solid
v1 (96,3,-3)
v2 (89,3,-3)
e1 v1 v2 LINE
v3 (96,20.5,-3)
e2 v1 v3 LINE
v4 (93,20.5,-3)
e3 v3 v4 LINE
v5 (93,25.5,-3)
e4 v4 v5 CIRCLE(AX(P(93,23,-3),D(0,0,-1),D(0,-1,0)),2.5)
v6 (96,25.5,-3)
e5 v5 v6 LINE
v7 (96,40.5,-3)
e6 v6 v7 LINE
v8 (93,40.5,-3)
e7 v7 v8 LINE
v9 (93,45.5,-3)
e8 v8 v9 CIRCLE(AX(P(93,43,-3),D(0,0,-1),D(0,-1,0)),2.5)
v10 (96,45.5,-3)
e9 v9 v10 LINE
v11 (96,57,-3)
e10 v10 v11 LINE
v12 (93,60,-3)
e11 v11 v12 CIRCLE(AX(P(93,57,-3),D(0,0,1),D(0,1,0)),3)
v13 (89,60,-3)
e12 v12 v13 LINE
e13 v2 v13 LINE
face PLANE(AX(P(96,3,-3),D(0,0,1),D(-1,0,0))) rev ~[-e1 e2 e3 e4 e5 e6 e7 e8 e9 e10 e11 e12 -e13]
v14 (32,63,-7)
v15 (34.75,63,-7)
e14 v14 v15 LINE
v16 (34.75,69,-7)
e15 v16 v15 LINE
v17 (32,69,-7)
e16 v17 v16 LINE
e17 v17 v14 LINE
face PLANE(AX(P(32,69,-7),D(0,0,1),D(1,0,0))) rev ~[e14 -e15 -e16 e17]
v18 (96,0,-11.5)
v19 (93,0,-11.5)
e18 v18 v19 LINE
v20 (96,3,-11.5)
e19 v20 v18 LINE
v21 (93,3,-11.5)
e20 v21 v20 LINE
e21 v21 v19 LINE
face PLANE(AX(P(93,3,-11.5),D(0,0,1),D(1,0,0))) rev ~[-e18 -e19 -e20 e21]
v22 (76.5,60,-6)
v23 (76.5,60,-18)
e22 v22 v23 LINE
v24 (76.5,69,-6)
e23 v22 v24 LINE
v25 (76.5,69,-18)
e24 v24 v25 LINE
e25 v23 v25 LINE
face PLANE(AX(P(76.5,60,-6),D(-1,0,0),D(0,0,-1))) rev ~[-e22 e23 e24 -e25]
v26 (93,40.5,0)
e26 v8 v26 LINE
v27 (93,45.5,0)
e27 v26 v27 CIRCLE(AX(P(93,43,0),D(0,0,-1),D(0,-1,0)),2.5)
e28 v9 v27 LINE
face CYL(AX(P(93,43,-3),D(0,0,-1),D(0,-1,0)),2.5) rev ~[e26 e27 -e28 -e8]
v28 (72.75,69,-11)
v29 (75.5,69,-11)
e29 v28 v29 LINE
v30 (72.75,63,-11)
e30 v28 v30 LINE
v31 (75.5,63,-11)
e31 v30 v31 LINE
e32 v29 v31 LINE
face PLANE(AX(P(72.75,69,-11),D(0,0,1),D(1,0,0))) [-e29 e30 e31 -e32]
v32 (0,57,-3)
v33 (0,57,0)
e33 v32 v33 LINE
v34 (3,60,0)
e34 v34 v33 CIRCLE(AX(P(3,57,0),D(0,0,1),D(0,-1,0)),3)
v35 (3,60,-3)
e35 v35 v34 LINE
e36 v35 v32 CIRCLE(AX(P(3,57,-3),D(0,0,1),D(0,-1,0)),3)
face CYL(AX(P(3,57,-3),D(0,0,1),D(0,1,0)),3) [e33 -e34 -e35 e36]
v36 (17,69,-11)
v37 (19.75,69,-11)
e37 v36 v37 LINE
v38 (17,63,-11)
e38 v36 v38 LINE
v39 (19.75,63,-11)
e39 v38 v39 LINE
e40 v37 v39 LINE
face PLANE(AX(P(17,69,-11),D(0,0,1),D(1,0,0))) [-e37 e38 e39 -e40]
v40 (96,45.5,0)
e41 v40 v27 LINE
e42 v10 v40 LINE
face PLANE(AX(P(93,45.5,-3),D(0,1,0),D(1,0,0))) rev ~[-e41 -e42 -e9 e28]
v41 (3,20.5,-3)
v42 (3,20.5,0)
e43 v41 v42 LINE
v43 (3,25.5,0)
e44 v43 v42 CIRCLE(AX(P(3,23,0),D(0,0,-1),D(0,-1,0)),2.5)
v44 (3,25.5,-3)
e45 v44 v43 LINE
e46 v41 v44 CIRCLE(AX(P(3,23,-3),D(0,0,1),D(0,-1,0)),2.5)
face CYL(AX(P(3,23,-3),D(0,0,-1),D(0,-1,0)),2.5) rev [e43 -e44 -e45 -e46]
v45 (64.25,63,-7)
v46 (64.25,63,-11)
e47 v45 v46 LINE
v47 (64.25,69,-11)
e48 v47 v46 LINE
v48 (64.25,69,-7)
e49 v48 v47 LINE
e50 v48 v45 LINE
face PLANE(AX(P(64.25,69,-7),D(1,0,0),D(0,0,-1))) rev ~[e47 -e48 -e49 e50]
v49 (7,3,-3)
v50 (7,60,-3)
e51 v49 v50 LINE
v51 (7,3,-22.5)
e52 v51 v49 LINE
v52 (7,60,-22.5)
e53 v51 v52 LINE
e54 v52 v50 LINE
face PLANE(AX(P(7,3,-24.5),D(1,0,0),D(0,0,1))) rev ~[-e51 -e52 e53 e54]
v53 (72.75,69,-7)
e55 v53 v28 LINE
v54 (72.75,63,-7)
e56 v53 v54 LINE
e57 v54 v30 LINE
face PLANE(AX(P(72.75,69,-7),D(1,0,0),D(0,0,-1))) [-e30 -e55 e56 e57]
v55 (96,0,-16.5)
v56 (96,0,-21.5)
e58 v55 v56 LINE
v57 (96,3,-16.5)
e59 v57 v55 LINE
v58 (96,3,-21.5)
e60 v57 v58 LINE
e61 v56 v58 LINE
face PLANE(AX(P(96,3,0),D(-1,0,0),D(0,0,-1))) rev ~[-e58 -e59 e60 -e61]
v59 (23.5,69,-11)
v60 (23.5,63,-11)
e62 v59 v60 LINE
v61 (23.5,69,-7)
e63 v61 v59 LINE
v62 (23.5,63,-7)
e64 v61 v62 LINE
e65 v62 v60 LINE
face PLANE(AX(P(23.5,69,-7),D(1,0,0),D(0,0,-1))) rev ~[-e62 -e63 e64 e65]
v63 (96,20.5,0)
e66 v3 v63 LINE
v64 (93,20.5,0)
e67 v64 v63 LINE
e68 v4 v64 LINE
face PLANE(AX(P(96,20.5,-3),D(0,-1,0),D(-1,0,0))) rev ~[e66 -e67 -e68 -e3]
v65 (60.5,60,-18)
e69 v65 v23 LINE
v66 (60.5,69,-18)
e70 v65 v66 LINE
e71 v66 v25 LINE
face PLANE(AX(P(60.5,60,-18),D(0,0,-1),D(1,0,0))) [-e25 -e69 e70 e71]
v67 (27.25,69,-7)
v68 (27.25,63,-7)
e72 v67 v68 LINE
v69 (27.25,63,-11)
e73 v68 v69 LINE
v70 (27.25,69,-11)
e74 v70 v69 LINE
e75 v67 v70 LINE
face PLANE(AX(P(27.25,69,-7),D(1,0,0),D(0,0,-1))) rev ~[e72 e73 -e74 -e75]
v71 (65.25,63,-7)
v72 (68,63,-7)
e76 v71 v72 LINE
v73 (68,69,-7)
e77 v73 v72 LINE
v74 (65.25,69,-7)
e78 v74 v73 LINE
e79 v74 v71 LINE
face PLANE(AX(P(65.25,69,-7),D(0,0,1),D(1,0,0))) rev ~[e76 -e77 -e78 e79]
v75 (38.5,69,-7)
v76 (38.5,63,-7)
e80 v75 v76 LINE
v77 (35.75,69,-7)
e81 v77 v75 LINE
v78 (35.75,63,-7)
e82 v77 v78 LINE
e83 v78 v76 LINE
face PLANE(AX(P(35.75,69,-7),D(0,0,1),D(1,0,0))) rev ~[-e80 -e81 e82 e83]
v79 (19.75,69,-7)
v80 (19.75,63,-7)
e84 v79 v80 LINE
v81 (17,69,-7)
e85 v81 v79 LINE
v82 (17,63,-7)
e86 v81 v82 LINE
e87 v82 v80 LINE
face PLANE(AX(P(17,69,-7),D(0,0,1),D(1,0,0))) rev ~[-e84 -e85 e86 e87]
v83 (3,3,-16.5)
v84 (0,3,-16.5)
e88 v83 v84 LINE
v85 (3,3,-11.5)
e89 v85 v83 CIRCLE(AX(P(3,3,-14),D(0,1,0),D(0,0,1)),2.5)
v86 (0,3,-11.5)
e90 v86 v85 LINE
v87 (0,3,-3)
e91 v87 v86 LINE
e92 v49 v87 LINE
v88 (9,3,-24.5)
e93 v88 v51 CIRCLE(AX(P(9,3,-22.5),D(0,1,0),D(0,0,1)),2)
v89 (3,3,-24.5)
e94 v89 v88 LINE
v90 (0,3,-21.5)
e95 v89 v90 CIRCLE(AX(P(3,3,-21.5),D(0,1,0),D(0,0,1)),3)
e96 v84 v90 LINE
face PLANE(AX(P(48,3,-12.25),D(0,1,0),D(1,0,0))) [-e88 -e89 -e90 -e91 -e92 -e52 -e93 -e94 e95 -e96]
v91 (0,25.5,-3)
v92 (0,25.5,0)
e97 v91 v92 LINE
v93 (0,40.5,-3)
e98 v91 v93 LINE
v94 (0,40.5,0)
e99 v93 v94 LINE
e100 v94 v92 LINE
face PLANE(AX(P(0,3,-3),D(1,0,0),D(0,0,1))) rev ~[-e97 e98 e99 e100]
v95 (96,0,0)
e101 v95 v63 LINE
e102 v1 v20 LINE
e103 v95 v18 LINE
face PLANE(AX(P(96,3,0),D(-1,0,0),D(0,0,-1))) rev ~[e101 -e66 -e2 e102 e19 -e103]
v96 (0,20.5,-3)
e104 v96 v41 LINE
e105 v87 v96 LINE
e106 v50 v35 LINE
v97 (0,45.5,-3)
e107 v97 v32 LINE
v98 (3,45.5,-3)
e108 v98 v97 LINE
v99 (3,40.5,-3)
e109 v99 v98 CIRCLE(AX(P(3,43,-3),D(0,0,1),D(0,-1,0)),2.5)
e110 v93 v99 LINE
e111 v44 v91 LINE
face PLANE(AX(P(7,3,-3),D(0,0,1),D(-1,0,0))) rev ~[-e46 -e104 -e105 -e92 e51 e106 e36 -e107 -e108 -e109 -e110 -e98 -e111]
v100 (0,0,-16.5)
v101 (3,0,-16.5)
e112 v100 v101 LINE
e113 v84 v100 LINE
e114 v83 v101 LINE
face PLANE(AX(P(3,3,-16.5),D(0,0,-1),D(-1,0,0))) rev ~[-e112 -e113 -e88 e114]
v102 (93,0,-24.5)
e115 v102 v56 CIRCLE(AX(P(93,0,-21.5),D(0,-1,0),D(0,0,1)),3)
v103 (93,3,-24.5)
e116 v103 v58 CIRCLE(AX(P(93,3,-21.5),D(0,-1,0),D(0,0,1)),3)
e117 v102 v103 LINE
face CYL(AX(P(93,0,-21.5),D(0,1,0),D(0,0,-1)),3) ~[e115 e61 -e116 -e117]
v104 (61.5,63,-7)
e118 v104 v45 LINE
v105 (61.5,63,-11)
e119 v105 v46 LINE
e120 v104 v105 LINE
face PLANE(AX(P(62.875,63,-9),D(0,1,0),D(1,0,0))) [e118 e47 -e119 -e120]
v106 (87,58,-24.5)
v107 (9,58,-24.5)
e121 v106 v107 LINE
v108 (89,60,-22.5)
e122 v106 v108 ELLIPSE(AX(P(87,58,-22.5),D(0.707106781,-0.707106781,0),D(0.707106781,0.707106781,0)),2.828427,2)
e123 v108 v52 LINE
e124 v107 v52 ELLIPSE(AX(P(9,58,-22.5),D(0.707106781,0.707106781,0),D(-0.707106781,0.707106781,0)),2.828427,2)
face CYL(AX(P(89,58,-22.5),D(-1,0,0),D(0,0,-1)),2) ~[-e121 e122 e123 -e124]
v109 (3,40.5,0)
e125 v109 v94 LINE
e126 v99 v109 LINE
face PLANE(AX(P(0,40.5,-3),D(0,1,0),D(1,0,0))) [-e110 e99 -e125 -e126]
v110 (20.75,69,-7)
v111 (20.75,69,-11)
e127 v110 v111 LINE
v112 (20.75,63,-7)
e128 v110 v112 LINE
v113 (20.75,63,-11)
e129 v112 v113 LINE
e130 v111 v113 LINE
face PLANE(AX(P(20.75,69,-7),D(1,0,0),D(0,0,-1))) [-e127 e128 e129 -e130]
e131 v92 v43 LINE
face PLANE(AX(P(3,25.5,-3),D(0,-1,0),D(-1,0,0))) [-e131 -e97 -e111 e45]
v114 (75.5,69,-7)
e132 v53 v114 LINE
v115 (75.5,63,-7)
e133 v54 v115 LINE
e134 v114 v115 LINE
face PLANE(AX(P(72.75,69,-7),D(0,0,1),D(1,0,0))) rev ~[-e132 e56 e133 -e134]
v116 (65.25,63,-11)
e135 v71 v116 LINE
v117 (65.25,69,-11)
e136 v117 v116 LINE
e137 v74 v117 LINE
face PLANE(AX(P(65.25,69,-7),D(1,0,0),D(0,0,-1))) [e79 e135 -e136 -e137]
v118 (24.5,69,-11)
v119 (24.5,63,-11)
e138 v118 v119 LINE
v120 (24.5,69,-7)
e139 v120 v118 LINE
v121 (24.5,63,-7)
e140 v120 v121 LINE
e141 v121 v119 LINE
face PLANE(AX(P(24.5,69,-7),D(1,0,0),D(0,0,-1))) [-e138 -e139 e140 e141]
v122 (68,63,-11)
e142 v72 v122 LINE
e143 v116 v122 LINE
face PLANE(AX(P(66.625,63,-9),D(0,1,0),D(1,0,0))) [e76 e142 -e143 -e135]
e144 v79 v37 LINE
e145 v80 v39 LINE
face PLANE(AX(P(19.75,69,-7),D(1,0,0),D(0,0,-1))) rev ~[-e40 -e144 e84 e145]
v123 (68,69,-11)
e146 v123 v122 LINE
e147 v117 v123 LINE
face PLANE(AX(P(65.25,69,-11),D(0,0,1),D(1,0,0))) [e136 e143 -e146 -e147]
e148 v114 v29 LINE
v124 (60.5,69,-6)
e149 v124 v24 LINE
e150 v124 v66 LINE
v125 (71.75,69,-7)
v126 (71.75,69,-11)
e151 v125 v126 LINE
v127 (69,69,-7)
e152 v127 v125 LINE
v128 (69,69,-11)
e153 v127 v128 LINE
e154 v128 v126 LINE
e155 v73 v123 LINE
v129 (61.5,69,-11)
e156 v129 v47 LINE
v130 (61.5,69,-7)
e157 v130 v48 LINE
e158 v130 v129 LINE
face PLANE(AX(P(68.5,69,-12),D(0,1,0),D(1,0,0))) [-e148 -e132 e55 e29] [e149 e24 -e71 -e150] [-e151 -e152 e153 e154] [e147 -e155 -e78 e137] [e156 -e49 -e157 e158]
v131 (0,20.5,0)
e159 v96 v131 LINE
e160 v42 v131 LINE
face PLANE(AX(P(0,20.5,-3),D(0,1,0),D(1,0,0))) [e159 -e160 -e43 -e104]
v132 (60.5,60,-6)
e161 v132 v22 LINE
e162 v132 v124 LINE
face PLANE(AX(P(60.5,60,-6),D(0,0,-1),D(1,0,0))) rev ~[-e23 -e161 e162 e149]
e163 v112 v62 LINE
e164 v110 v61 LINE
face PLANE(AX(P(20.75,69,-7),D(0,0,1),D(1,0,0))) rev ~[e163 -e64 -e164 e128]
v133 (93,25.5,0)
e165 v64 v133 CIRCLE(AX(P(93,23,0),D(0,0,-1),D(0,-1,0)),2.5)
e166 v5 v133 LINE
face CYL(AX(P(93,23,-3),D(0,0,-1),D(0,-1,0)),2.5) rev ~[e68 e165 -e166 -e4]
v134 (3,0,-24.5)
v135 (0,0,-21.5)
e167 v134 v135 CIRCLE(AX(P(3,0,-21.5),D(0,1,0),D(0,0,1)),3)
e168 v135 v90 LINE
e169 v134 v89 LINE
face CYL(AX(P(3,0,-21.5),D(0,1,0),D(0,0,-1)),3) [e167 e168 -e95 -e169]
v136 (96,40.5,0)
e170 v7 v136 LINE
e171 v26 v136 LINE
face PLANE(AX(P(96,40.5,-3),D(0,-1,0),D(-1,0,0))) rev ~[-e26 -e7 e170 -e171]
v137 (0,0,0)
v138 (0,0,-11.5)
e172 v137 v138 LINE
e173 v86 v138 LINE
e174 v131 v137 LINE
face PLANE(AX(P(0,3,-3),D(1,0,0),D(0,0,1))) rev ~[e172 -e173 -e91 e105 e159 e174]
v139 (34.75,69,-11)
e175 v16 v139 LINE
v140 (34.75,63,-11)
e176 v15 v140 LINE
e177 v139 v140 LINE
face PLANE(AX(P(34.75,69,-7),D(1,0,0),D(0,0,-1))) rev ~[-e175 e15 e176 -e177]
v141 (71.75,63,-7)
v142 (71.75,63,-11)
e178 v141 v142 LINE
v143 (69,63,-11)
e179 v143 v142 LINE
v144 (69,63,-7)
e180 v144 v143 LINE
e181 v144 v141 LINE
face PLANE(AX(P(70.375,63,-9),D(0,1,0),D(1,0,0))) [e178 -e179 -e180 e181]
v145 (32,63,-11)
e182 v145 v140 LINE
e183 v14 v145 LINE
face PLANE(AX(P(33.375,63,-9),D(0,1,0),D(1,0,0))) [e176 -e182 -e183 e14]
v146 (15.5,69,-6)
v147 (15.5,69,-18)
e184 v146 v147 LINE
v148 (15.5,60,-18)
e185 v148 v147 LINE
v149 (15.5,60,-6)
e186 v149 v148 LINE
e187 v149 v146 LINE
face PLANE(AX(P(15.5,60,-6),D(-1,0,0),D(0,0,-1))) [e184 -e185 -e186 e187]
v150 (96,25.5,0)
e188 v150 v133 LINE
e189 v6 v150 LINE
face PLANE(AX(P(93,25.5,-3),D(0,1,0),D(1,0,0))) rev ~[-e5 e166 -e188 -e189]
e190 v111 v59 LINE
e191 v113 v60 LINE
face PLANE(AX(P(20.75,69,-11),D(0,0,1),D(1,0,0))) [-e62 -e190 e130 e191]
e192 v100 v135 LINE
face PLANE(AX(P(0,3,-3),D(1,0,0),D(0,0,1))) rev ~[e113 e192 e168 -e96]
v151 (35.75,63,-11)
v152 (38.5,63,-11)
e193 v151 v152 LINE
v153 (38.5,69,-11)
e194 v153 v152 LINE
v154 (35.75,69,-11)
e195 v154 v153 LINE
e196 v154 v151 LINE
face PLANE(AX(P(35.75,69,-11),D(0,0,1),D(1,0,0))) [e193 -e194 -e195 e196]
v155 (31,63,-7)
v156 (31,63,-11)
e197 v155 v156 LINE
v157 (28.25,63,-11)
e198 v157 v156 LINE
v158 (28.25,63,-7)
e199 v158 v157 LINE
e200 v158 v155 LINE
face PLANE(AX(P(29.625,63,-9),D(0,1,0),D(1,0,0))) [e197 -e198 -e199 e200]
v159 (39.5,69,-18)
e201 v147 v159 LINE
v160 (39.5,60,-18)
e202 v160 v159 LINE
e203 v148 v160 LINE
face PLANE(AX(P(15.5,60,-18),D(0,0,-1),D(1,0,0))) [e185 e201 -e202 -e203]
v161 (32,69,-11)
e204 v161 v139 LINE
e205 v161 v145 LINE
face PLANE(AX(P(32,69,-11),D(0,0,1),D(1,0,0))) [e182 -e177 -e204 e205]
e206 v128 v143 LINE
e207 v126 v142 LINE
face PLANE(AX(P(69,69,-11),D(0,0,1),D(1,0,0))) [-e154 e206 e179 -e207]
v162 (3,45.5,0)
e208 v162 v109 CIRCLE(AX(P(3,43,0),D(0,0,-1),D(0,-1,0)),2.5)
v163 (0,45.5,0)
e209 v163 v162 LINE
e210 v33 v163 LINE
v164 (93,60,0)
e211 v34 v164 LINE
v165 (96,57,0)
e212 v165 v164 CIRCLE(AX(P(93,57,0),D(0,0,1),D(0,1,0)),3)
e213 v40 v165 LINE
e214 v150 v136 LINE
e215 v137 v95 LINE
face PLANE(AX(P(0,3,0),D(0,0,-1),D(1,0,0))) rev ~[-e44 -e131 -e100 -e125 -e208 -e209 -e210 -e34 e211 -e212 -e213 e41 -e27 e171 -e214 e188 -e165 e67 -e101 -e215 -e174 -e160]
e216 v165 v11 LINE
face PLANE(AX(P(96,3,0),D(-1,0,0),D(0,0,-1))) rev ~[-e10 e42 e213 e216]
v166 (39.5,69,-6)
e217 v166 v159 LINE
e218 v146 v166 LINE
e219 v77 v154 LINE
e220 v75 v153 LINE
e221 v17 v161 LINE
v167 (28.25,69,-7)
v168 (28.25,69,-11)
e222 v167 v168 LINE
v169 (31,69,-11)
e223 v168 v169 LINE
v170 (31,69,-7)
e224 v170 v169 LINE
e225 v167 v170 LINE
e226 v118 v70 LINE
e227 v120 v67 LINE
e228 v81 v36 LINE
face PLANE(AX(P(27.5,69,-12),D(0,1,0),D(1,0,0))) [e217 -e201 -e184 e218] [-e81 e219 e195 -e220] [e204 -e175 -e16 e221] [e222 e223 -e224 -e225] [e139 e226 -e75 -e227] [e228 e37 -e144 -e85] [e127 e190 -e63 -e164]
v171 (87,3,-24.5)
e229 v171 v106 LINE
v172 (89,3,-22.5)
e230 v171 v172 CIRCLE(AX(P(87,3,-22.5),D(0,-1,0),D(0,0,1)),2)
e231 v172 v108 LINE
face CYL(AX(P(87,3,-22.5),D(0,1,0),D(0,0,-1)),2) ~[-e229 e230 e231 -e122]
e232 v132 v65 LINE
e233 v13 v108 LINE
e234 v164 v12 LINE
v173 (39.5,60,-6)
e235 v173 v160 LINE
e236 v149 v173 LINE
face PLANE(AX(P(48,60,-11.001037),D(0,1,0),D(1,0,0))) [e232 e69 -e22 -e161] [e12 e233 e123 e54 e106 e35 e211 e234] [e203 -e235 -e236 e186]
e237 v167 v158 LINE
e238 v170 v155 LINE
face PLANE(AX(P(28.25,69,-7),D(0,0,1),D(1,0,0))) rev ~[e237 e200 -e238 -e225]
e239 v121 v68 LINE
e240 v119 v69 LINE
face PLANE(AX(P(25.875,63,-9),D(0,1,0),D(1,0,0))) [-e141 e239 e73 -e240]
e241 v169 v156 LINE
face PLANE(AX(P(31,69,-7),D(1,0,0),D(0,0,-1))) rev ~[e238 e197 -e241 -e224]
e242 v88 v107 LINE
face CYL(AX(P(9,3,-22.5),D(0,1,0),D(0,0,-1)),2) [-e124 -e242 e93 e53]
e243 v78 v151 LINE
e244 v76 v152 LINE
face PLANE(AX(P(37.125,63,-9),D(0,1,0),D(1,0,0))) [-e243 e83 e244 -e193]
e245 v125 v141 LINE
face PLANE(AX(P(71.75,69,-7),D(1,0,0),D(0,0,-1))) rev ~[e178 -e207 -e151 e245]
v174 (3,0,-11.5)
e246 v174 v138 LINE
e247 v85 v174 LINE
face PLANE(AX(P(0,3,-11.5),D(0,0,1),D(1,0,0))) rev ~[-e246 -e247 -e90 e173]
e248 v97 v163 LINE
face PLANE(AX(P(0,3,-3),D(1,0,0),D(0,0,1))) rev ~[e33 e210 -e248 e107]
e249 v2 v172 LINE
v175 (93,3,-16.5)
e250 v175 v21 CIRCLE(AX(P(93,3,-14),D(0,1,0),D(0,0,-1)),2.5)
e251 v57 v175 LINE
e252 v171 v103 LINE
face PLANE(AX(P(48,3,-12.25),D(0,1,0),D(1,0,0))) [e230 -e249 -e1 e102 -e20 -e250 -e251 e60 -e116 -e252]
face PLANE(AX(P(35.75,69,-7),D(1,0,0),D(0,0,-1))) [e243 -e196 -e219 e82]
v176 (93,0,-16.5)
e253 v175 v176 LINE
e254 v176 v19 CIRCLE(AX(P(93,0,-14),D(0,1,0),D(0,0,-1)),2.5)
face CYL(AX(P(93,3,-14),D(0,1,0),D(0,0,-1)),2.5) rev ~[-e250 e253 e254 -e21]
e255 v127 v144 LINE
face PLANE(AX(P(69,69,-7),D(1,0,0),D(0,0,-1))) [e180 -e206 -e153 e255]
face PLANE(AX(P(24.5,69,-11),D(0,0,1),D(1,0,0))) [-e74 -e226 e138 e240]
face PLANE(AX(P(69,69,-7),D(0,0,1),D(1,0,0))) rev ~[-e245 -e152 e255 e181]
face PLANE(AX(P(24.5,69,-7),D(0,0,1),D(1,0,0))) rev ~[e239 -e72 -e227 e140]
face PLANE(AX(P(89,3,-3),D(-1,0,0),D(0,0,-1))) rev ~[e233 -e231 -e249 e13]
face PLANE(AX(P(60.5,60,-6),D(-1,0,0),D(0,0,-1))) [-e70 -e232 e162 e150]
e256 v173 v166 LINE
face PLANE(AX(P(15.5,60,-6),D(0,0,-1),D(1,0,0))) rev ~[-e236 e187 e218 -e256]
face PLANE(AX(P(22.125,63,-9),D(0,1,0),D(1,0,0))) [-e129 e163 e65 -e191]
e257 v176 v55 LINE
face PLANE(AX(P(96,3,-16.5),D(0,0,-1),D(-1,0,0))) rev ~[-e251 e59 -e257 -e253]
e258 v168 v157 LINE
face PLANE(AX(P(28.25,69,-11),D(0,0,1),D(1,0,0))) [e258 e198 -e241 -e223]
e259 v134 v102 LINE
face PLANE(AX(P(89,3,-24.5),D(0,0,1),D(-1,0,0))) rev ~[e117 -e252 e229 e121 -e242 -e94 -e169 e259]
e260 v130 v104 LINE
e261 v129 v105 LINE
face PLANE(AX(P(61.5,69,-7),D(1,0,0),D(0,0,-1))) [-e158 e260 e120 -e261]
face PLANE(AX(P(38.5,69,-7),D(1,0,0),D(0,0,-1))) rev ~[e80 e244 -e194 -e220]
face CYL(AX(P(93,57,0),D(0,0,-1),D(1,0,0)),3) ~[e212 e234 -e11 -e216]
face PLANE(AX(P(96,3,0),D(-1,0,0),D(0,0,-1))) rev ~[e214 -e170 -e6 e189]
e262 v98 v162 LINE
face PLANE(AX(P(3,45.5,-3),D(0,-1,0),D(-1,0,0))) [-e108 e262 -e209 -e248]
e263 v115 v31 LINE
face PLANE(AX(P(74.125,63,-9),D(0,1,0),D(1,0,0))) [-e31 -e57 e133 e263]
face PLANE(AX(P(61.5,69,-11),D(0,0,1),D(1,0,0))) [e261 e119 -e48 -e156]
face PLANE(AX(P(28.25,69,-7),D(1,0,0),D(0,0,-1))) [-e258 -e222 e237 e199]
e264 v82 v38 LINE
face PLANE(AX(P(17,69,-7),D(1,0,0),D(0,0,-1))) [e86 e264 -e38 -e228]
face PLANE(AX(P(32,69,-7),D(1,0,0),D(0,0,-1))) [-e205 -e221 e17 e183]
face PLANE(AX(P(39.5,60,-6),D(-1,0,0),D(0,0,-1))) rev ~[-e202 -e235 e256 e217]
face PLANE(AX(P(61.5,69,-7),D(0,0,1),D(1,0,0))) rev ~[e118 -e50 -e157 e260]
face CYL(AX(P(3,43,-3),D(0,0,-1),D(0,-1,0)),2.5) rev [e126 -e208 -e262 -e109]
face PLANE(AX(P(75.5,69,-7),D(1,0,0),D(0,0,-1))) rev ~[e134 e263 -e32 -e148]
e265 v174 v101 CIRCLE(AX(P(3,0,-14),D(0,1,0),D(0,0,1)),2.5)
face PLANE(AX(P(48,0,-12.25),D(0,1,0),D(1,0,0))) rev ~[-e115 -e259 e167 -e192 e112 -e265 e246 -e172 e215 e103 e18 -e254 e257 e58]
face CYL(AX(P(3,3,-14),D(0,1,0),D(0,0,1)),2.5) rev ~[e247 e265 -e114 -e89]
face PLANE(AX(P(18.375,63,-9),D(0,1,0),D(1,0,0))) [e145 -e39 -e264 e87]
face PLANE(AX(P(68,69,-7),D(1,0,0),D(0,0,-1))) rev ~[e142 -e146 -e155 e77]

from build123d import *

# Parameters (mm, degrees)
SKETCH1_W           = 96
SKETCH1_H           = 24.5
BOSS_EXTRUDE1_DEPTH = 3
BOSS_EXTRUDE2_DEPTH = 57
FILLET1_R           = 2
FILLET2_R           = 3
CUT_EXTRUDE1_REACH  = 117.231
CUT_EXTRUDE2_REACH  = 116.303
SKETCH5_W           = 16
SKETCH5_H           = 12
SKETCH5_W_2         = 24
BOSS_EXTRUDE3_DEPTH = 9
SKETCH6_W           = 2.75
SKETCH6_H           = 4
CUT_EXTRUDE3_DEPTH  = 6
LPATTERN1_COUNT     = 4
LPATTERN1_PITCH     = 3.75
SKETCH7_W           = 2.75
SKETCH7_H           = 4
CUT_EXTRUDE4_DEPTH  = 6
LPATTERN2_COUNT     = 6
LPATTERN2_PITCH     = 3.75


with BuildPart() as part:
    # Sketch1 → Boss-Extrude1 (new body)
    with BuildSketch(Plane(origin=(0, 0, 0), x_dir=(1, 0, 0), z_dir=(0, 1, 0))):
        with Locations((48, 12.25)):
            Rectangle(SKETCH1_W, SKETCH1_H)
    extrude(amount=BOSS_EXTRUDE1_DEPTH)

    # Sketch2 → Boss-Extrude2 (add)
    with BuildSketch(Plane(origin=(0, 3, 0), x_dir=(1, 0, 0), z_dir=(0, 1, 0))):
        Polygon((0, 0), (96, 0), (96, 3), (89, 3), (89, 24.5), (7, 24.5), (7, 3), (0, 3), align=None)
    extrude(amount=BOSS_EXTRUDE2_DEPTH)

    # Fillet1
    fillet1_edges = [part.edges().sort_by_distance(p)[0] for p in [
        (89, 31.5, -24.5),
        (7, 31.5, -24.5),
        (48, 60, -24.5),
    ]]
    fillet(fillet1_edges, radius=FILLET1_R)

    # Fillet2
    fillet2_edges = [part.edges().sort_by_distance(p)[0] for p in [
        (0, 60, -1.5),
        (96, 60, -1.5),
        (0, 1.5, -24.5),
        (96, 1.5, -24.5),
    ]]
    fillet(fillet2_edges, radius=FILLET2_R)

    # Sketch3 → Cut-Extrude1 (cut, up to next)
    with BuildSketch(Plane(origin=(0, 0, -3), x_dir=(-1, 0, 0), z_dir=(0, 0, -1)), mode=Mode.PRIVATE) as cut_extrude1_sk1:
        with BuildLine():
            Line((-93, 45.5), (-96, 45.5))
            Line((-96, 45.5), (-96, 40.5))
            Line((-96, 40.5), (-93, 40.5))
            ThreePointArc((-93, 40.5), (-90.5, 43), (-93, 45.5))
        make_face()
    cut_extrude1_tool1 = extrude(cut_extrude1_sk1.sketch, amount=-CUT_EXTRUDE1_REACH, mode=Mode.PRIVATE) & part.part
    # Sketch3 → Cut-Extrude1 (cut, up to next)
    with BuildSketch(Plane(origin=(0, 0, -3), x_dir=(-1, 0, 0), z_dir=(0, 0, -1)), mode=Mode.PRIVATE) as cut_extrude1_sk2:
        with BuildLine():
            Line((-93, 25.5), (-96, 25.5))
            Line((-96, 25.5), (-96, 20.5))
            Line((-96, 20.5), (-93, 20.5))
            ThreePointArc((-93, 20.5), (-90.5, 23), (-93, 25.5))
        make_face()
    cut_extrude1_tool2 = extrude(cut_extrude1_sk2.sketch, amount=-CUT_EXTRUDE1_REACH, mode=Mode.PRIVATE) & part.part
    # Sketch3 → Cut-Extrude1 (cut, up to next)
    with BuildSketch(Plane(origin=(0, 0, -3), x_dir=(-1, 0, 0), z_dir=(0, 0, -1)), mode=Mode.PRIVATE) as cut_extrude1_sk3:
        with BuildLine():
            Line((-3, 25.5), (0, 25.5))
            Line((0, 25.5), (0, 20.5))
            Line((0, 20.5), (-3, 20.5))
            ThreePointArc((-3, 20.5), (-5.5, 23), (-3, 25.5))
        make_face()
    cut_extrude1_tool3 = extrude(cut_extrude1_sk3.sketch, amount=-CUT_EXTRUDE1_REACH, mode=Mode.PRIVATE) & part.part
    # Sketch3 → Cut-Extrude1 (cut, up to next)
    with BuildSketch(Plane(origin=(0, 0, -3), x_dir=(-1, 0, 0), z_dir=(0, 0, -1)), mode=Mode.PRIVATE) as cut_extrude1_sk4:
        with BuildLine():
            Line((-3, 45.5), (0, 45.5))
            Line((0, 45.5), (0, 40.5))
            Line((0, 40.5), (-3, 40.5))
            ThreePointArc((-3, 40.5), (-5.5, 43), (-3, 45.5))
        make_face()
    cut_extrude1_tool4 = extrude(cut_extrude1_sk4.sketch, amount=-CUT_EXTRUDE1_REACH, mode=Mode.PRIVATE) & part.part
    add(cut_extrude1_tool1.solids().sort_by_distance((93.486888, 43, -3))[0], mode=Mode.SUBTRACT)
    add(cut_extrude1_tool2.solids().sort_by_distance((93.486888, 23, -3))[0], mode=Mode.SUBTRACT)
    add(cut_extrude1_tool3.solids().sort_by_distance((2.513112, 23, -3))[0], mode=Mode.SUBTRACT)
    add(cut_extrude1_tool4.solids().sort_by_distance((2.513112, 43, -3))[0], mode=Mode.SUBTRACT)

    # Sketch4 → Cut-Extrude2 (cut, up to next)
    with BuildSketch(Plane(origin=(0, 3, 0), x_dir=(1, 0, 0), z_dir=(0, 1, 0)), mode=Mode.PRIVATE) as cut_extrude2_sk1:
        with BuildLine():
            Line((3, 16.5), (0, 16.5))
            Line((0, 16.5), (0, 11.5))
            Line((0, 11.5), (3, 11.5))
            ThreePointArc((3, 11.5), (5.5, 14), (3, 16.5))
        make_face()
    cut_extrude2_tool1 = extrude(cut_extrude2_sk1.sketch, amount=-CUT_EXTRUDE2_REACH, mode=Mode.PRIVATE) & part.part
    # Sketch4 → Cut-Extrude2 (cut, up to next)
    with BuildSketch(Plane(origin=(0, 3, 0), x_dir=(1, 0, 0), z_dir=(0, 1, 0)), mode=Mode.PRIVATE) as cut_extrude2_sk2:
        with BuildLine():
            Line((93, 11.5), (96, 11.5))
            Line((96, 11.5), (96, 16.5))
            Line((96, 16.5), (93, 16.5))
            ThreePointArc((93, 16.5), (90.5, 14), (93, 11.5))
        make_face()
    cut_extrude2_tool2 = extrude(cut_extrude2_sk2.sketch, amount=-CUT_EXTRUDE2_REACH, mode=Mode.PRIVATE) & part.part
    add(cut_extrude2_tool1.solids().sort_by_distance((2.513112, 3, -14))[0], mode=Mode.SUBTRACT)
    add(cut_extrude2_tool2.solids().sort_by_distance((93.486888, 3, -14))[0], mode=Mode.SUBTRACT)

    # Sketch5 → Boss-Extrude3 (add)
    with BuildSketch(Plane(origin=(0, 60, 0), x_dir=(1, 0, 0), z_dir=(0, 1, 0))):
        with Locations((68.5, 12)):
            Rectangle(SKETCH5_W, SKETCH5_H)
        with Locations((27.5, 12)):
            Rectangle(SKETCH5_W_2, SKETCH5_H)
    extrude(amount=BOSS_EXTRUDE3_DEPTH)

    # Sketch6 → Cut-Extrude3 (cut)
    with BuildSketch(Plane(origin=(0, 69, 0), x_dir=(1, 0, 0), z_dir=(0, 1, 0))):
        with Locations((74.125, 9)):
            Rectangle(SKETCH6_W, SKETCH6_H)
    cut_extrude3 = extrude(amount=-CUT_EXTRUDE3_DEPTH, mode=Mode.SUBTRACT)

    # LPattern1: Cut-Extrude3 ×4
    with Locations(*[(-i * LPATTERN1_PITCH, 0, 0) for i in range(1, LPATTERN1_COUNT)]):
        add(cut_extrude3, mode=Mode.SUBTRACT)

    # Sketch7 → Cut-Extrude4 (cut)
    with BuildSketch(Plane(origin=(0, 69, 0), x_dir=(1, 0, 0), z_dir=(0, 1, 0))):
        with Locations((37.125, 9)):
            Rectangle(SKETCH7_W, SKETCH7_H)
    cut_extrude4 = extrude(amount=-CUT_EXTRUDE4_DEPTH, mode=Mode.SUBTRACT)

    # LPattern2: Cut-Extrude4 ×6
    with Locations(*[(-i * LPATTERN2_PITCH, 0, 0) for i in range(1, LPATTERN2_COUNT)]):
        add(cut_extrude4, mode=Mode.SUBTRACT)


solid = part.part
